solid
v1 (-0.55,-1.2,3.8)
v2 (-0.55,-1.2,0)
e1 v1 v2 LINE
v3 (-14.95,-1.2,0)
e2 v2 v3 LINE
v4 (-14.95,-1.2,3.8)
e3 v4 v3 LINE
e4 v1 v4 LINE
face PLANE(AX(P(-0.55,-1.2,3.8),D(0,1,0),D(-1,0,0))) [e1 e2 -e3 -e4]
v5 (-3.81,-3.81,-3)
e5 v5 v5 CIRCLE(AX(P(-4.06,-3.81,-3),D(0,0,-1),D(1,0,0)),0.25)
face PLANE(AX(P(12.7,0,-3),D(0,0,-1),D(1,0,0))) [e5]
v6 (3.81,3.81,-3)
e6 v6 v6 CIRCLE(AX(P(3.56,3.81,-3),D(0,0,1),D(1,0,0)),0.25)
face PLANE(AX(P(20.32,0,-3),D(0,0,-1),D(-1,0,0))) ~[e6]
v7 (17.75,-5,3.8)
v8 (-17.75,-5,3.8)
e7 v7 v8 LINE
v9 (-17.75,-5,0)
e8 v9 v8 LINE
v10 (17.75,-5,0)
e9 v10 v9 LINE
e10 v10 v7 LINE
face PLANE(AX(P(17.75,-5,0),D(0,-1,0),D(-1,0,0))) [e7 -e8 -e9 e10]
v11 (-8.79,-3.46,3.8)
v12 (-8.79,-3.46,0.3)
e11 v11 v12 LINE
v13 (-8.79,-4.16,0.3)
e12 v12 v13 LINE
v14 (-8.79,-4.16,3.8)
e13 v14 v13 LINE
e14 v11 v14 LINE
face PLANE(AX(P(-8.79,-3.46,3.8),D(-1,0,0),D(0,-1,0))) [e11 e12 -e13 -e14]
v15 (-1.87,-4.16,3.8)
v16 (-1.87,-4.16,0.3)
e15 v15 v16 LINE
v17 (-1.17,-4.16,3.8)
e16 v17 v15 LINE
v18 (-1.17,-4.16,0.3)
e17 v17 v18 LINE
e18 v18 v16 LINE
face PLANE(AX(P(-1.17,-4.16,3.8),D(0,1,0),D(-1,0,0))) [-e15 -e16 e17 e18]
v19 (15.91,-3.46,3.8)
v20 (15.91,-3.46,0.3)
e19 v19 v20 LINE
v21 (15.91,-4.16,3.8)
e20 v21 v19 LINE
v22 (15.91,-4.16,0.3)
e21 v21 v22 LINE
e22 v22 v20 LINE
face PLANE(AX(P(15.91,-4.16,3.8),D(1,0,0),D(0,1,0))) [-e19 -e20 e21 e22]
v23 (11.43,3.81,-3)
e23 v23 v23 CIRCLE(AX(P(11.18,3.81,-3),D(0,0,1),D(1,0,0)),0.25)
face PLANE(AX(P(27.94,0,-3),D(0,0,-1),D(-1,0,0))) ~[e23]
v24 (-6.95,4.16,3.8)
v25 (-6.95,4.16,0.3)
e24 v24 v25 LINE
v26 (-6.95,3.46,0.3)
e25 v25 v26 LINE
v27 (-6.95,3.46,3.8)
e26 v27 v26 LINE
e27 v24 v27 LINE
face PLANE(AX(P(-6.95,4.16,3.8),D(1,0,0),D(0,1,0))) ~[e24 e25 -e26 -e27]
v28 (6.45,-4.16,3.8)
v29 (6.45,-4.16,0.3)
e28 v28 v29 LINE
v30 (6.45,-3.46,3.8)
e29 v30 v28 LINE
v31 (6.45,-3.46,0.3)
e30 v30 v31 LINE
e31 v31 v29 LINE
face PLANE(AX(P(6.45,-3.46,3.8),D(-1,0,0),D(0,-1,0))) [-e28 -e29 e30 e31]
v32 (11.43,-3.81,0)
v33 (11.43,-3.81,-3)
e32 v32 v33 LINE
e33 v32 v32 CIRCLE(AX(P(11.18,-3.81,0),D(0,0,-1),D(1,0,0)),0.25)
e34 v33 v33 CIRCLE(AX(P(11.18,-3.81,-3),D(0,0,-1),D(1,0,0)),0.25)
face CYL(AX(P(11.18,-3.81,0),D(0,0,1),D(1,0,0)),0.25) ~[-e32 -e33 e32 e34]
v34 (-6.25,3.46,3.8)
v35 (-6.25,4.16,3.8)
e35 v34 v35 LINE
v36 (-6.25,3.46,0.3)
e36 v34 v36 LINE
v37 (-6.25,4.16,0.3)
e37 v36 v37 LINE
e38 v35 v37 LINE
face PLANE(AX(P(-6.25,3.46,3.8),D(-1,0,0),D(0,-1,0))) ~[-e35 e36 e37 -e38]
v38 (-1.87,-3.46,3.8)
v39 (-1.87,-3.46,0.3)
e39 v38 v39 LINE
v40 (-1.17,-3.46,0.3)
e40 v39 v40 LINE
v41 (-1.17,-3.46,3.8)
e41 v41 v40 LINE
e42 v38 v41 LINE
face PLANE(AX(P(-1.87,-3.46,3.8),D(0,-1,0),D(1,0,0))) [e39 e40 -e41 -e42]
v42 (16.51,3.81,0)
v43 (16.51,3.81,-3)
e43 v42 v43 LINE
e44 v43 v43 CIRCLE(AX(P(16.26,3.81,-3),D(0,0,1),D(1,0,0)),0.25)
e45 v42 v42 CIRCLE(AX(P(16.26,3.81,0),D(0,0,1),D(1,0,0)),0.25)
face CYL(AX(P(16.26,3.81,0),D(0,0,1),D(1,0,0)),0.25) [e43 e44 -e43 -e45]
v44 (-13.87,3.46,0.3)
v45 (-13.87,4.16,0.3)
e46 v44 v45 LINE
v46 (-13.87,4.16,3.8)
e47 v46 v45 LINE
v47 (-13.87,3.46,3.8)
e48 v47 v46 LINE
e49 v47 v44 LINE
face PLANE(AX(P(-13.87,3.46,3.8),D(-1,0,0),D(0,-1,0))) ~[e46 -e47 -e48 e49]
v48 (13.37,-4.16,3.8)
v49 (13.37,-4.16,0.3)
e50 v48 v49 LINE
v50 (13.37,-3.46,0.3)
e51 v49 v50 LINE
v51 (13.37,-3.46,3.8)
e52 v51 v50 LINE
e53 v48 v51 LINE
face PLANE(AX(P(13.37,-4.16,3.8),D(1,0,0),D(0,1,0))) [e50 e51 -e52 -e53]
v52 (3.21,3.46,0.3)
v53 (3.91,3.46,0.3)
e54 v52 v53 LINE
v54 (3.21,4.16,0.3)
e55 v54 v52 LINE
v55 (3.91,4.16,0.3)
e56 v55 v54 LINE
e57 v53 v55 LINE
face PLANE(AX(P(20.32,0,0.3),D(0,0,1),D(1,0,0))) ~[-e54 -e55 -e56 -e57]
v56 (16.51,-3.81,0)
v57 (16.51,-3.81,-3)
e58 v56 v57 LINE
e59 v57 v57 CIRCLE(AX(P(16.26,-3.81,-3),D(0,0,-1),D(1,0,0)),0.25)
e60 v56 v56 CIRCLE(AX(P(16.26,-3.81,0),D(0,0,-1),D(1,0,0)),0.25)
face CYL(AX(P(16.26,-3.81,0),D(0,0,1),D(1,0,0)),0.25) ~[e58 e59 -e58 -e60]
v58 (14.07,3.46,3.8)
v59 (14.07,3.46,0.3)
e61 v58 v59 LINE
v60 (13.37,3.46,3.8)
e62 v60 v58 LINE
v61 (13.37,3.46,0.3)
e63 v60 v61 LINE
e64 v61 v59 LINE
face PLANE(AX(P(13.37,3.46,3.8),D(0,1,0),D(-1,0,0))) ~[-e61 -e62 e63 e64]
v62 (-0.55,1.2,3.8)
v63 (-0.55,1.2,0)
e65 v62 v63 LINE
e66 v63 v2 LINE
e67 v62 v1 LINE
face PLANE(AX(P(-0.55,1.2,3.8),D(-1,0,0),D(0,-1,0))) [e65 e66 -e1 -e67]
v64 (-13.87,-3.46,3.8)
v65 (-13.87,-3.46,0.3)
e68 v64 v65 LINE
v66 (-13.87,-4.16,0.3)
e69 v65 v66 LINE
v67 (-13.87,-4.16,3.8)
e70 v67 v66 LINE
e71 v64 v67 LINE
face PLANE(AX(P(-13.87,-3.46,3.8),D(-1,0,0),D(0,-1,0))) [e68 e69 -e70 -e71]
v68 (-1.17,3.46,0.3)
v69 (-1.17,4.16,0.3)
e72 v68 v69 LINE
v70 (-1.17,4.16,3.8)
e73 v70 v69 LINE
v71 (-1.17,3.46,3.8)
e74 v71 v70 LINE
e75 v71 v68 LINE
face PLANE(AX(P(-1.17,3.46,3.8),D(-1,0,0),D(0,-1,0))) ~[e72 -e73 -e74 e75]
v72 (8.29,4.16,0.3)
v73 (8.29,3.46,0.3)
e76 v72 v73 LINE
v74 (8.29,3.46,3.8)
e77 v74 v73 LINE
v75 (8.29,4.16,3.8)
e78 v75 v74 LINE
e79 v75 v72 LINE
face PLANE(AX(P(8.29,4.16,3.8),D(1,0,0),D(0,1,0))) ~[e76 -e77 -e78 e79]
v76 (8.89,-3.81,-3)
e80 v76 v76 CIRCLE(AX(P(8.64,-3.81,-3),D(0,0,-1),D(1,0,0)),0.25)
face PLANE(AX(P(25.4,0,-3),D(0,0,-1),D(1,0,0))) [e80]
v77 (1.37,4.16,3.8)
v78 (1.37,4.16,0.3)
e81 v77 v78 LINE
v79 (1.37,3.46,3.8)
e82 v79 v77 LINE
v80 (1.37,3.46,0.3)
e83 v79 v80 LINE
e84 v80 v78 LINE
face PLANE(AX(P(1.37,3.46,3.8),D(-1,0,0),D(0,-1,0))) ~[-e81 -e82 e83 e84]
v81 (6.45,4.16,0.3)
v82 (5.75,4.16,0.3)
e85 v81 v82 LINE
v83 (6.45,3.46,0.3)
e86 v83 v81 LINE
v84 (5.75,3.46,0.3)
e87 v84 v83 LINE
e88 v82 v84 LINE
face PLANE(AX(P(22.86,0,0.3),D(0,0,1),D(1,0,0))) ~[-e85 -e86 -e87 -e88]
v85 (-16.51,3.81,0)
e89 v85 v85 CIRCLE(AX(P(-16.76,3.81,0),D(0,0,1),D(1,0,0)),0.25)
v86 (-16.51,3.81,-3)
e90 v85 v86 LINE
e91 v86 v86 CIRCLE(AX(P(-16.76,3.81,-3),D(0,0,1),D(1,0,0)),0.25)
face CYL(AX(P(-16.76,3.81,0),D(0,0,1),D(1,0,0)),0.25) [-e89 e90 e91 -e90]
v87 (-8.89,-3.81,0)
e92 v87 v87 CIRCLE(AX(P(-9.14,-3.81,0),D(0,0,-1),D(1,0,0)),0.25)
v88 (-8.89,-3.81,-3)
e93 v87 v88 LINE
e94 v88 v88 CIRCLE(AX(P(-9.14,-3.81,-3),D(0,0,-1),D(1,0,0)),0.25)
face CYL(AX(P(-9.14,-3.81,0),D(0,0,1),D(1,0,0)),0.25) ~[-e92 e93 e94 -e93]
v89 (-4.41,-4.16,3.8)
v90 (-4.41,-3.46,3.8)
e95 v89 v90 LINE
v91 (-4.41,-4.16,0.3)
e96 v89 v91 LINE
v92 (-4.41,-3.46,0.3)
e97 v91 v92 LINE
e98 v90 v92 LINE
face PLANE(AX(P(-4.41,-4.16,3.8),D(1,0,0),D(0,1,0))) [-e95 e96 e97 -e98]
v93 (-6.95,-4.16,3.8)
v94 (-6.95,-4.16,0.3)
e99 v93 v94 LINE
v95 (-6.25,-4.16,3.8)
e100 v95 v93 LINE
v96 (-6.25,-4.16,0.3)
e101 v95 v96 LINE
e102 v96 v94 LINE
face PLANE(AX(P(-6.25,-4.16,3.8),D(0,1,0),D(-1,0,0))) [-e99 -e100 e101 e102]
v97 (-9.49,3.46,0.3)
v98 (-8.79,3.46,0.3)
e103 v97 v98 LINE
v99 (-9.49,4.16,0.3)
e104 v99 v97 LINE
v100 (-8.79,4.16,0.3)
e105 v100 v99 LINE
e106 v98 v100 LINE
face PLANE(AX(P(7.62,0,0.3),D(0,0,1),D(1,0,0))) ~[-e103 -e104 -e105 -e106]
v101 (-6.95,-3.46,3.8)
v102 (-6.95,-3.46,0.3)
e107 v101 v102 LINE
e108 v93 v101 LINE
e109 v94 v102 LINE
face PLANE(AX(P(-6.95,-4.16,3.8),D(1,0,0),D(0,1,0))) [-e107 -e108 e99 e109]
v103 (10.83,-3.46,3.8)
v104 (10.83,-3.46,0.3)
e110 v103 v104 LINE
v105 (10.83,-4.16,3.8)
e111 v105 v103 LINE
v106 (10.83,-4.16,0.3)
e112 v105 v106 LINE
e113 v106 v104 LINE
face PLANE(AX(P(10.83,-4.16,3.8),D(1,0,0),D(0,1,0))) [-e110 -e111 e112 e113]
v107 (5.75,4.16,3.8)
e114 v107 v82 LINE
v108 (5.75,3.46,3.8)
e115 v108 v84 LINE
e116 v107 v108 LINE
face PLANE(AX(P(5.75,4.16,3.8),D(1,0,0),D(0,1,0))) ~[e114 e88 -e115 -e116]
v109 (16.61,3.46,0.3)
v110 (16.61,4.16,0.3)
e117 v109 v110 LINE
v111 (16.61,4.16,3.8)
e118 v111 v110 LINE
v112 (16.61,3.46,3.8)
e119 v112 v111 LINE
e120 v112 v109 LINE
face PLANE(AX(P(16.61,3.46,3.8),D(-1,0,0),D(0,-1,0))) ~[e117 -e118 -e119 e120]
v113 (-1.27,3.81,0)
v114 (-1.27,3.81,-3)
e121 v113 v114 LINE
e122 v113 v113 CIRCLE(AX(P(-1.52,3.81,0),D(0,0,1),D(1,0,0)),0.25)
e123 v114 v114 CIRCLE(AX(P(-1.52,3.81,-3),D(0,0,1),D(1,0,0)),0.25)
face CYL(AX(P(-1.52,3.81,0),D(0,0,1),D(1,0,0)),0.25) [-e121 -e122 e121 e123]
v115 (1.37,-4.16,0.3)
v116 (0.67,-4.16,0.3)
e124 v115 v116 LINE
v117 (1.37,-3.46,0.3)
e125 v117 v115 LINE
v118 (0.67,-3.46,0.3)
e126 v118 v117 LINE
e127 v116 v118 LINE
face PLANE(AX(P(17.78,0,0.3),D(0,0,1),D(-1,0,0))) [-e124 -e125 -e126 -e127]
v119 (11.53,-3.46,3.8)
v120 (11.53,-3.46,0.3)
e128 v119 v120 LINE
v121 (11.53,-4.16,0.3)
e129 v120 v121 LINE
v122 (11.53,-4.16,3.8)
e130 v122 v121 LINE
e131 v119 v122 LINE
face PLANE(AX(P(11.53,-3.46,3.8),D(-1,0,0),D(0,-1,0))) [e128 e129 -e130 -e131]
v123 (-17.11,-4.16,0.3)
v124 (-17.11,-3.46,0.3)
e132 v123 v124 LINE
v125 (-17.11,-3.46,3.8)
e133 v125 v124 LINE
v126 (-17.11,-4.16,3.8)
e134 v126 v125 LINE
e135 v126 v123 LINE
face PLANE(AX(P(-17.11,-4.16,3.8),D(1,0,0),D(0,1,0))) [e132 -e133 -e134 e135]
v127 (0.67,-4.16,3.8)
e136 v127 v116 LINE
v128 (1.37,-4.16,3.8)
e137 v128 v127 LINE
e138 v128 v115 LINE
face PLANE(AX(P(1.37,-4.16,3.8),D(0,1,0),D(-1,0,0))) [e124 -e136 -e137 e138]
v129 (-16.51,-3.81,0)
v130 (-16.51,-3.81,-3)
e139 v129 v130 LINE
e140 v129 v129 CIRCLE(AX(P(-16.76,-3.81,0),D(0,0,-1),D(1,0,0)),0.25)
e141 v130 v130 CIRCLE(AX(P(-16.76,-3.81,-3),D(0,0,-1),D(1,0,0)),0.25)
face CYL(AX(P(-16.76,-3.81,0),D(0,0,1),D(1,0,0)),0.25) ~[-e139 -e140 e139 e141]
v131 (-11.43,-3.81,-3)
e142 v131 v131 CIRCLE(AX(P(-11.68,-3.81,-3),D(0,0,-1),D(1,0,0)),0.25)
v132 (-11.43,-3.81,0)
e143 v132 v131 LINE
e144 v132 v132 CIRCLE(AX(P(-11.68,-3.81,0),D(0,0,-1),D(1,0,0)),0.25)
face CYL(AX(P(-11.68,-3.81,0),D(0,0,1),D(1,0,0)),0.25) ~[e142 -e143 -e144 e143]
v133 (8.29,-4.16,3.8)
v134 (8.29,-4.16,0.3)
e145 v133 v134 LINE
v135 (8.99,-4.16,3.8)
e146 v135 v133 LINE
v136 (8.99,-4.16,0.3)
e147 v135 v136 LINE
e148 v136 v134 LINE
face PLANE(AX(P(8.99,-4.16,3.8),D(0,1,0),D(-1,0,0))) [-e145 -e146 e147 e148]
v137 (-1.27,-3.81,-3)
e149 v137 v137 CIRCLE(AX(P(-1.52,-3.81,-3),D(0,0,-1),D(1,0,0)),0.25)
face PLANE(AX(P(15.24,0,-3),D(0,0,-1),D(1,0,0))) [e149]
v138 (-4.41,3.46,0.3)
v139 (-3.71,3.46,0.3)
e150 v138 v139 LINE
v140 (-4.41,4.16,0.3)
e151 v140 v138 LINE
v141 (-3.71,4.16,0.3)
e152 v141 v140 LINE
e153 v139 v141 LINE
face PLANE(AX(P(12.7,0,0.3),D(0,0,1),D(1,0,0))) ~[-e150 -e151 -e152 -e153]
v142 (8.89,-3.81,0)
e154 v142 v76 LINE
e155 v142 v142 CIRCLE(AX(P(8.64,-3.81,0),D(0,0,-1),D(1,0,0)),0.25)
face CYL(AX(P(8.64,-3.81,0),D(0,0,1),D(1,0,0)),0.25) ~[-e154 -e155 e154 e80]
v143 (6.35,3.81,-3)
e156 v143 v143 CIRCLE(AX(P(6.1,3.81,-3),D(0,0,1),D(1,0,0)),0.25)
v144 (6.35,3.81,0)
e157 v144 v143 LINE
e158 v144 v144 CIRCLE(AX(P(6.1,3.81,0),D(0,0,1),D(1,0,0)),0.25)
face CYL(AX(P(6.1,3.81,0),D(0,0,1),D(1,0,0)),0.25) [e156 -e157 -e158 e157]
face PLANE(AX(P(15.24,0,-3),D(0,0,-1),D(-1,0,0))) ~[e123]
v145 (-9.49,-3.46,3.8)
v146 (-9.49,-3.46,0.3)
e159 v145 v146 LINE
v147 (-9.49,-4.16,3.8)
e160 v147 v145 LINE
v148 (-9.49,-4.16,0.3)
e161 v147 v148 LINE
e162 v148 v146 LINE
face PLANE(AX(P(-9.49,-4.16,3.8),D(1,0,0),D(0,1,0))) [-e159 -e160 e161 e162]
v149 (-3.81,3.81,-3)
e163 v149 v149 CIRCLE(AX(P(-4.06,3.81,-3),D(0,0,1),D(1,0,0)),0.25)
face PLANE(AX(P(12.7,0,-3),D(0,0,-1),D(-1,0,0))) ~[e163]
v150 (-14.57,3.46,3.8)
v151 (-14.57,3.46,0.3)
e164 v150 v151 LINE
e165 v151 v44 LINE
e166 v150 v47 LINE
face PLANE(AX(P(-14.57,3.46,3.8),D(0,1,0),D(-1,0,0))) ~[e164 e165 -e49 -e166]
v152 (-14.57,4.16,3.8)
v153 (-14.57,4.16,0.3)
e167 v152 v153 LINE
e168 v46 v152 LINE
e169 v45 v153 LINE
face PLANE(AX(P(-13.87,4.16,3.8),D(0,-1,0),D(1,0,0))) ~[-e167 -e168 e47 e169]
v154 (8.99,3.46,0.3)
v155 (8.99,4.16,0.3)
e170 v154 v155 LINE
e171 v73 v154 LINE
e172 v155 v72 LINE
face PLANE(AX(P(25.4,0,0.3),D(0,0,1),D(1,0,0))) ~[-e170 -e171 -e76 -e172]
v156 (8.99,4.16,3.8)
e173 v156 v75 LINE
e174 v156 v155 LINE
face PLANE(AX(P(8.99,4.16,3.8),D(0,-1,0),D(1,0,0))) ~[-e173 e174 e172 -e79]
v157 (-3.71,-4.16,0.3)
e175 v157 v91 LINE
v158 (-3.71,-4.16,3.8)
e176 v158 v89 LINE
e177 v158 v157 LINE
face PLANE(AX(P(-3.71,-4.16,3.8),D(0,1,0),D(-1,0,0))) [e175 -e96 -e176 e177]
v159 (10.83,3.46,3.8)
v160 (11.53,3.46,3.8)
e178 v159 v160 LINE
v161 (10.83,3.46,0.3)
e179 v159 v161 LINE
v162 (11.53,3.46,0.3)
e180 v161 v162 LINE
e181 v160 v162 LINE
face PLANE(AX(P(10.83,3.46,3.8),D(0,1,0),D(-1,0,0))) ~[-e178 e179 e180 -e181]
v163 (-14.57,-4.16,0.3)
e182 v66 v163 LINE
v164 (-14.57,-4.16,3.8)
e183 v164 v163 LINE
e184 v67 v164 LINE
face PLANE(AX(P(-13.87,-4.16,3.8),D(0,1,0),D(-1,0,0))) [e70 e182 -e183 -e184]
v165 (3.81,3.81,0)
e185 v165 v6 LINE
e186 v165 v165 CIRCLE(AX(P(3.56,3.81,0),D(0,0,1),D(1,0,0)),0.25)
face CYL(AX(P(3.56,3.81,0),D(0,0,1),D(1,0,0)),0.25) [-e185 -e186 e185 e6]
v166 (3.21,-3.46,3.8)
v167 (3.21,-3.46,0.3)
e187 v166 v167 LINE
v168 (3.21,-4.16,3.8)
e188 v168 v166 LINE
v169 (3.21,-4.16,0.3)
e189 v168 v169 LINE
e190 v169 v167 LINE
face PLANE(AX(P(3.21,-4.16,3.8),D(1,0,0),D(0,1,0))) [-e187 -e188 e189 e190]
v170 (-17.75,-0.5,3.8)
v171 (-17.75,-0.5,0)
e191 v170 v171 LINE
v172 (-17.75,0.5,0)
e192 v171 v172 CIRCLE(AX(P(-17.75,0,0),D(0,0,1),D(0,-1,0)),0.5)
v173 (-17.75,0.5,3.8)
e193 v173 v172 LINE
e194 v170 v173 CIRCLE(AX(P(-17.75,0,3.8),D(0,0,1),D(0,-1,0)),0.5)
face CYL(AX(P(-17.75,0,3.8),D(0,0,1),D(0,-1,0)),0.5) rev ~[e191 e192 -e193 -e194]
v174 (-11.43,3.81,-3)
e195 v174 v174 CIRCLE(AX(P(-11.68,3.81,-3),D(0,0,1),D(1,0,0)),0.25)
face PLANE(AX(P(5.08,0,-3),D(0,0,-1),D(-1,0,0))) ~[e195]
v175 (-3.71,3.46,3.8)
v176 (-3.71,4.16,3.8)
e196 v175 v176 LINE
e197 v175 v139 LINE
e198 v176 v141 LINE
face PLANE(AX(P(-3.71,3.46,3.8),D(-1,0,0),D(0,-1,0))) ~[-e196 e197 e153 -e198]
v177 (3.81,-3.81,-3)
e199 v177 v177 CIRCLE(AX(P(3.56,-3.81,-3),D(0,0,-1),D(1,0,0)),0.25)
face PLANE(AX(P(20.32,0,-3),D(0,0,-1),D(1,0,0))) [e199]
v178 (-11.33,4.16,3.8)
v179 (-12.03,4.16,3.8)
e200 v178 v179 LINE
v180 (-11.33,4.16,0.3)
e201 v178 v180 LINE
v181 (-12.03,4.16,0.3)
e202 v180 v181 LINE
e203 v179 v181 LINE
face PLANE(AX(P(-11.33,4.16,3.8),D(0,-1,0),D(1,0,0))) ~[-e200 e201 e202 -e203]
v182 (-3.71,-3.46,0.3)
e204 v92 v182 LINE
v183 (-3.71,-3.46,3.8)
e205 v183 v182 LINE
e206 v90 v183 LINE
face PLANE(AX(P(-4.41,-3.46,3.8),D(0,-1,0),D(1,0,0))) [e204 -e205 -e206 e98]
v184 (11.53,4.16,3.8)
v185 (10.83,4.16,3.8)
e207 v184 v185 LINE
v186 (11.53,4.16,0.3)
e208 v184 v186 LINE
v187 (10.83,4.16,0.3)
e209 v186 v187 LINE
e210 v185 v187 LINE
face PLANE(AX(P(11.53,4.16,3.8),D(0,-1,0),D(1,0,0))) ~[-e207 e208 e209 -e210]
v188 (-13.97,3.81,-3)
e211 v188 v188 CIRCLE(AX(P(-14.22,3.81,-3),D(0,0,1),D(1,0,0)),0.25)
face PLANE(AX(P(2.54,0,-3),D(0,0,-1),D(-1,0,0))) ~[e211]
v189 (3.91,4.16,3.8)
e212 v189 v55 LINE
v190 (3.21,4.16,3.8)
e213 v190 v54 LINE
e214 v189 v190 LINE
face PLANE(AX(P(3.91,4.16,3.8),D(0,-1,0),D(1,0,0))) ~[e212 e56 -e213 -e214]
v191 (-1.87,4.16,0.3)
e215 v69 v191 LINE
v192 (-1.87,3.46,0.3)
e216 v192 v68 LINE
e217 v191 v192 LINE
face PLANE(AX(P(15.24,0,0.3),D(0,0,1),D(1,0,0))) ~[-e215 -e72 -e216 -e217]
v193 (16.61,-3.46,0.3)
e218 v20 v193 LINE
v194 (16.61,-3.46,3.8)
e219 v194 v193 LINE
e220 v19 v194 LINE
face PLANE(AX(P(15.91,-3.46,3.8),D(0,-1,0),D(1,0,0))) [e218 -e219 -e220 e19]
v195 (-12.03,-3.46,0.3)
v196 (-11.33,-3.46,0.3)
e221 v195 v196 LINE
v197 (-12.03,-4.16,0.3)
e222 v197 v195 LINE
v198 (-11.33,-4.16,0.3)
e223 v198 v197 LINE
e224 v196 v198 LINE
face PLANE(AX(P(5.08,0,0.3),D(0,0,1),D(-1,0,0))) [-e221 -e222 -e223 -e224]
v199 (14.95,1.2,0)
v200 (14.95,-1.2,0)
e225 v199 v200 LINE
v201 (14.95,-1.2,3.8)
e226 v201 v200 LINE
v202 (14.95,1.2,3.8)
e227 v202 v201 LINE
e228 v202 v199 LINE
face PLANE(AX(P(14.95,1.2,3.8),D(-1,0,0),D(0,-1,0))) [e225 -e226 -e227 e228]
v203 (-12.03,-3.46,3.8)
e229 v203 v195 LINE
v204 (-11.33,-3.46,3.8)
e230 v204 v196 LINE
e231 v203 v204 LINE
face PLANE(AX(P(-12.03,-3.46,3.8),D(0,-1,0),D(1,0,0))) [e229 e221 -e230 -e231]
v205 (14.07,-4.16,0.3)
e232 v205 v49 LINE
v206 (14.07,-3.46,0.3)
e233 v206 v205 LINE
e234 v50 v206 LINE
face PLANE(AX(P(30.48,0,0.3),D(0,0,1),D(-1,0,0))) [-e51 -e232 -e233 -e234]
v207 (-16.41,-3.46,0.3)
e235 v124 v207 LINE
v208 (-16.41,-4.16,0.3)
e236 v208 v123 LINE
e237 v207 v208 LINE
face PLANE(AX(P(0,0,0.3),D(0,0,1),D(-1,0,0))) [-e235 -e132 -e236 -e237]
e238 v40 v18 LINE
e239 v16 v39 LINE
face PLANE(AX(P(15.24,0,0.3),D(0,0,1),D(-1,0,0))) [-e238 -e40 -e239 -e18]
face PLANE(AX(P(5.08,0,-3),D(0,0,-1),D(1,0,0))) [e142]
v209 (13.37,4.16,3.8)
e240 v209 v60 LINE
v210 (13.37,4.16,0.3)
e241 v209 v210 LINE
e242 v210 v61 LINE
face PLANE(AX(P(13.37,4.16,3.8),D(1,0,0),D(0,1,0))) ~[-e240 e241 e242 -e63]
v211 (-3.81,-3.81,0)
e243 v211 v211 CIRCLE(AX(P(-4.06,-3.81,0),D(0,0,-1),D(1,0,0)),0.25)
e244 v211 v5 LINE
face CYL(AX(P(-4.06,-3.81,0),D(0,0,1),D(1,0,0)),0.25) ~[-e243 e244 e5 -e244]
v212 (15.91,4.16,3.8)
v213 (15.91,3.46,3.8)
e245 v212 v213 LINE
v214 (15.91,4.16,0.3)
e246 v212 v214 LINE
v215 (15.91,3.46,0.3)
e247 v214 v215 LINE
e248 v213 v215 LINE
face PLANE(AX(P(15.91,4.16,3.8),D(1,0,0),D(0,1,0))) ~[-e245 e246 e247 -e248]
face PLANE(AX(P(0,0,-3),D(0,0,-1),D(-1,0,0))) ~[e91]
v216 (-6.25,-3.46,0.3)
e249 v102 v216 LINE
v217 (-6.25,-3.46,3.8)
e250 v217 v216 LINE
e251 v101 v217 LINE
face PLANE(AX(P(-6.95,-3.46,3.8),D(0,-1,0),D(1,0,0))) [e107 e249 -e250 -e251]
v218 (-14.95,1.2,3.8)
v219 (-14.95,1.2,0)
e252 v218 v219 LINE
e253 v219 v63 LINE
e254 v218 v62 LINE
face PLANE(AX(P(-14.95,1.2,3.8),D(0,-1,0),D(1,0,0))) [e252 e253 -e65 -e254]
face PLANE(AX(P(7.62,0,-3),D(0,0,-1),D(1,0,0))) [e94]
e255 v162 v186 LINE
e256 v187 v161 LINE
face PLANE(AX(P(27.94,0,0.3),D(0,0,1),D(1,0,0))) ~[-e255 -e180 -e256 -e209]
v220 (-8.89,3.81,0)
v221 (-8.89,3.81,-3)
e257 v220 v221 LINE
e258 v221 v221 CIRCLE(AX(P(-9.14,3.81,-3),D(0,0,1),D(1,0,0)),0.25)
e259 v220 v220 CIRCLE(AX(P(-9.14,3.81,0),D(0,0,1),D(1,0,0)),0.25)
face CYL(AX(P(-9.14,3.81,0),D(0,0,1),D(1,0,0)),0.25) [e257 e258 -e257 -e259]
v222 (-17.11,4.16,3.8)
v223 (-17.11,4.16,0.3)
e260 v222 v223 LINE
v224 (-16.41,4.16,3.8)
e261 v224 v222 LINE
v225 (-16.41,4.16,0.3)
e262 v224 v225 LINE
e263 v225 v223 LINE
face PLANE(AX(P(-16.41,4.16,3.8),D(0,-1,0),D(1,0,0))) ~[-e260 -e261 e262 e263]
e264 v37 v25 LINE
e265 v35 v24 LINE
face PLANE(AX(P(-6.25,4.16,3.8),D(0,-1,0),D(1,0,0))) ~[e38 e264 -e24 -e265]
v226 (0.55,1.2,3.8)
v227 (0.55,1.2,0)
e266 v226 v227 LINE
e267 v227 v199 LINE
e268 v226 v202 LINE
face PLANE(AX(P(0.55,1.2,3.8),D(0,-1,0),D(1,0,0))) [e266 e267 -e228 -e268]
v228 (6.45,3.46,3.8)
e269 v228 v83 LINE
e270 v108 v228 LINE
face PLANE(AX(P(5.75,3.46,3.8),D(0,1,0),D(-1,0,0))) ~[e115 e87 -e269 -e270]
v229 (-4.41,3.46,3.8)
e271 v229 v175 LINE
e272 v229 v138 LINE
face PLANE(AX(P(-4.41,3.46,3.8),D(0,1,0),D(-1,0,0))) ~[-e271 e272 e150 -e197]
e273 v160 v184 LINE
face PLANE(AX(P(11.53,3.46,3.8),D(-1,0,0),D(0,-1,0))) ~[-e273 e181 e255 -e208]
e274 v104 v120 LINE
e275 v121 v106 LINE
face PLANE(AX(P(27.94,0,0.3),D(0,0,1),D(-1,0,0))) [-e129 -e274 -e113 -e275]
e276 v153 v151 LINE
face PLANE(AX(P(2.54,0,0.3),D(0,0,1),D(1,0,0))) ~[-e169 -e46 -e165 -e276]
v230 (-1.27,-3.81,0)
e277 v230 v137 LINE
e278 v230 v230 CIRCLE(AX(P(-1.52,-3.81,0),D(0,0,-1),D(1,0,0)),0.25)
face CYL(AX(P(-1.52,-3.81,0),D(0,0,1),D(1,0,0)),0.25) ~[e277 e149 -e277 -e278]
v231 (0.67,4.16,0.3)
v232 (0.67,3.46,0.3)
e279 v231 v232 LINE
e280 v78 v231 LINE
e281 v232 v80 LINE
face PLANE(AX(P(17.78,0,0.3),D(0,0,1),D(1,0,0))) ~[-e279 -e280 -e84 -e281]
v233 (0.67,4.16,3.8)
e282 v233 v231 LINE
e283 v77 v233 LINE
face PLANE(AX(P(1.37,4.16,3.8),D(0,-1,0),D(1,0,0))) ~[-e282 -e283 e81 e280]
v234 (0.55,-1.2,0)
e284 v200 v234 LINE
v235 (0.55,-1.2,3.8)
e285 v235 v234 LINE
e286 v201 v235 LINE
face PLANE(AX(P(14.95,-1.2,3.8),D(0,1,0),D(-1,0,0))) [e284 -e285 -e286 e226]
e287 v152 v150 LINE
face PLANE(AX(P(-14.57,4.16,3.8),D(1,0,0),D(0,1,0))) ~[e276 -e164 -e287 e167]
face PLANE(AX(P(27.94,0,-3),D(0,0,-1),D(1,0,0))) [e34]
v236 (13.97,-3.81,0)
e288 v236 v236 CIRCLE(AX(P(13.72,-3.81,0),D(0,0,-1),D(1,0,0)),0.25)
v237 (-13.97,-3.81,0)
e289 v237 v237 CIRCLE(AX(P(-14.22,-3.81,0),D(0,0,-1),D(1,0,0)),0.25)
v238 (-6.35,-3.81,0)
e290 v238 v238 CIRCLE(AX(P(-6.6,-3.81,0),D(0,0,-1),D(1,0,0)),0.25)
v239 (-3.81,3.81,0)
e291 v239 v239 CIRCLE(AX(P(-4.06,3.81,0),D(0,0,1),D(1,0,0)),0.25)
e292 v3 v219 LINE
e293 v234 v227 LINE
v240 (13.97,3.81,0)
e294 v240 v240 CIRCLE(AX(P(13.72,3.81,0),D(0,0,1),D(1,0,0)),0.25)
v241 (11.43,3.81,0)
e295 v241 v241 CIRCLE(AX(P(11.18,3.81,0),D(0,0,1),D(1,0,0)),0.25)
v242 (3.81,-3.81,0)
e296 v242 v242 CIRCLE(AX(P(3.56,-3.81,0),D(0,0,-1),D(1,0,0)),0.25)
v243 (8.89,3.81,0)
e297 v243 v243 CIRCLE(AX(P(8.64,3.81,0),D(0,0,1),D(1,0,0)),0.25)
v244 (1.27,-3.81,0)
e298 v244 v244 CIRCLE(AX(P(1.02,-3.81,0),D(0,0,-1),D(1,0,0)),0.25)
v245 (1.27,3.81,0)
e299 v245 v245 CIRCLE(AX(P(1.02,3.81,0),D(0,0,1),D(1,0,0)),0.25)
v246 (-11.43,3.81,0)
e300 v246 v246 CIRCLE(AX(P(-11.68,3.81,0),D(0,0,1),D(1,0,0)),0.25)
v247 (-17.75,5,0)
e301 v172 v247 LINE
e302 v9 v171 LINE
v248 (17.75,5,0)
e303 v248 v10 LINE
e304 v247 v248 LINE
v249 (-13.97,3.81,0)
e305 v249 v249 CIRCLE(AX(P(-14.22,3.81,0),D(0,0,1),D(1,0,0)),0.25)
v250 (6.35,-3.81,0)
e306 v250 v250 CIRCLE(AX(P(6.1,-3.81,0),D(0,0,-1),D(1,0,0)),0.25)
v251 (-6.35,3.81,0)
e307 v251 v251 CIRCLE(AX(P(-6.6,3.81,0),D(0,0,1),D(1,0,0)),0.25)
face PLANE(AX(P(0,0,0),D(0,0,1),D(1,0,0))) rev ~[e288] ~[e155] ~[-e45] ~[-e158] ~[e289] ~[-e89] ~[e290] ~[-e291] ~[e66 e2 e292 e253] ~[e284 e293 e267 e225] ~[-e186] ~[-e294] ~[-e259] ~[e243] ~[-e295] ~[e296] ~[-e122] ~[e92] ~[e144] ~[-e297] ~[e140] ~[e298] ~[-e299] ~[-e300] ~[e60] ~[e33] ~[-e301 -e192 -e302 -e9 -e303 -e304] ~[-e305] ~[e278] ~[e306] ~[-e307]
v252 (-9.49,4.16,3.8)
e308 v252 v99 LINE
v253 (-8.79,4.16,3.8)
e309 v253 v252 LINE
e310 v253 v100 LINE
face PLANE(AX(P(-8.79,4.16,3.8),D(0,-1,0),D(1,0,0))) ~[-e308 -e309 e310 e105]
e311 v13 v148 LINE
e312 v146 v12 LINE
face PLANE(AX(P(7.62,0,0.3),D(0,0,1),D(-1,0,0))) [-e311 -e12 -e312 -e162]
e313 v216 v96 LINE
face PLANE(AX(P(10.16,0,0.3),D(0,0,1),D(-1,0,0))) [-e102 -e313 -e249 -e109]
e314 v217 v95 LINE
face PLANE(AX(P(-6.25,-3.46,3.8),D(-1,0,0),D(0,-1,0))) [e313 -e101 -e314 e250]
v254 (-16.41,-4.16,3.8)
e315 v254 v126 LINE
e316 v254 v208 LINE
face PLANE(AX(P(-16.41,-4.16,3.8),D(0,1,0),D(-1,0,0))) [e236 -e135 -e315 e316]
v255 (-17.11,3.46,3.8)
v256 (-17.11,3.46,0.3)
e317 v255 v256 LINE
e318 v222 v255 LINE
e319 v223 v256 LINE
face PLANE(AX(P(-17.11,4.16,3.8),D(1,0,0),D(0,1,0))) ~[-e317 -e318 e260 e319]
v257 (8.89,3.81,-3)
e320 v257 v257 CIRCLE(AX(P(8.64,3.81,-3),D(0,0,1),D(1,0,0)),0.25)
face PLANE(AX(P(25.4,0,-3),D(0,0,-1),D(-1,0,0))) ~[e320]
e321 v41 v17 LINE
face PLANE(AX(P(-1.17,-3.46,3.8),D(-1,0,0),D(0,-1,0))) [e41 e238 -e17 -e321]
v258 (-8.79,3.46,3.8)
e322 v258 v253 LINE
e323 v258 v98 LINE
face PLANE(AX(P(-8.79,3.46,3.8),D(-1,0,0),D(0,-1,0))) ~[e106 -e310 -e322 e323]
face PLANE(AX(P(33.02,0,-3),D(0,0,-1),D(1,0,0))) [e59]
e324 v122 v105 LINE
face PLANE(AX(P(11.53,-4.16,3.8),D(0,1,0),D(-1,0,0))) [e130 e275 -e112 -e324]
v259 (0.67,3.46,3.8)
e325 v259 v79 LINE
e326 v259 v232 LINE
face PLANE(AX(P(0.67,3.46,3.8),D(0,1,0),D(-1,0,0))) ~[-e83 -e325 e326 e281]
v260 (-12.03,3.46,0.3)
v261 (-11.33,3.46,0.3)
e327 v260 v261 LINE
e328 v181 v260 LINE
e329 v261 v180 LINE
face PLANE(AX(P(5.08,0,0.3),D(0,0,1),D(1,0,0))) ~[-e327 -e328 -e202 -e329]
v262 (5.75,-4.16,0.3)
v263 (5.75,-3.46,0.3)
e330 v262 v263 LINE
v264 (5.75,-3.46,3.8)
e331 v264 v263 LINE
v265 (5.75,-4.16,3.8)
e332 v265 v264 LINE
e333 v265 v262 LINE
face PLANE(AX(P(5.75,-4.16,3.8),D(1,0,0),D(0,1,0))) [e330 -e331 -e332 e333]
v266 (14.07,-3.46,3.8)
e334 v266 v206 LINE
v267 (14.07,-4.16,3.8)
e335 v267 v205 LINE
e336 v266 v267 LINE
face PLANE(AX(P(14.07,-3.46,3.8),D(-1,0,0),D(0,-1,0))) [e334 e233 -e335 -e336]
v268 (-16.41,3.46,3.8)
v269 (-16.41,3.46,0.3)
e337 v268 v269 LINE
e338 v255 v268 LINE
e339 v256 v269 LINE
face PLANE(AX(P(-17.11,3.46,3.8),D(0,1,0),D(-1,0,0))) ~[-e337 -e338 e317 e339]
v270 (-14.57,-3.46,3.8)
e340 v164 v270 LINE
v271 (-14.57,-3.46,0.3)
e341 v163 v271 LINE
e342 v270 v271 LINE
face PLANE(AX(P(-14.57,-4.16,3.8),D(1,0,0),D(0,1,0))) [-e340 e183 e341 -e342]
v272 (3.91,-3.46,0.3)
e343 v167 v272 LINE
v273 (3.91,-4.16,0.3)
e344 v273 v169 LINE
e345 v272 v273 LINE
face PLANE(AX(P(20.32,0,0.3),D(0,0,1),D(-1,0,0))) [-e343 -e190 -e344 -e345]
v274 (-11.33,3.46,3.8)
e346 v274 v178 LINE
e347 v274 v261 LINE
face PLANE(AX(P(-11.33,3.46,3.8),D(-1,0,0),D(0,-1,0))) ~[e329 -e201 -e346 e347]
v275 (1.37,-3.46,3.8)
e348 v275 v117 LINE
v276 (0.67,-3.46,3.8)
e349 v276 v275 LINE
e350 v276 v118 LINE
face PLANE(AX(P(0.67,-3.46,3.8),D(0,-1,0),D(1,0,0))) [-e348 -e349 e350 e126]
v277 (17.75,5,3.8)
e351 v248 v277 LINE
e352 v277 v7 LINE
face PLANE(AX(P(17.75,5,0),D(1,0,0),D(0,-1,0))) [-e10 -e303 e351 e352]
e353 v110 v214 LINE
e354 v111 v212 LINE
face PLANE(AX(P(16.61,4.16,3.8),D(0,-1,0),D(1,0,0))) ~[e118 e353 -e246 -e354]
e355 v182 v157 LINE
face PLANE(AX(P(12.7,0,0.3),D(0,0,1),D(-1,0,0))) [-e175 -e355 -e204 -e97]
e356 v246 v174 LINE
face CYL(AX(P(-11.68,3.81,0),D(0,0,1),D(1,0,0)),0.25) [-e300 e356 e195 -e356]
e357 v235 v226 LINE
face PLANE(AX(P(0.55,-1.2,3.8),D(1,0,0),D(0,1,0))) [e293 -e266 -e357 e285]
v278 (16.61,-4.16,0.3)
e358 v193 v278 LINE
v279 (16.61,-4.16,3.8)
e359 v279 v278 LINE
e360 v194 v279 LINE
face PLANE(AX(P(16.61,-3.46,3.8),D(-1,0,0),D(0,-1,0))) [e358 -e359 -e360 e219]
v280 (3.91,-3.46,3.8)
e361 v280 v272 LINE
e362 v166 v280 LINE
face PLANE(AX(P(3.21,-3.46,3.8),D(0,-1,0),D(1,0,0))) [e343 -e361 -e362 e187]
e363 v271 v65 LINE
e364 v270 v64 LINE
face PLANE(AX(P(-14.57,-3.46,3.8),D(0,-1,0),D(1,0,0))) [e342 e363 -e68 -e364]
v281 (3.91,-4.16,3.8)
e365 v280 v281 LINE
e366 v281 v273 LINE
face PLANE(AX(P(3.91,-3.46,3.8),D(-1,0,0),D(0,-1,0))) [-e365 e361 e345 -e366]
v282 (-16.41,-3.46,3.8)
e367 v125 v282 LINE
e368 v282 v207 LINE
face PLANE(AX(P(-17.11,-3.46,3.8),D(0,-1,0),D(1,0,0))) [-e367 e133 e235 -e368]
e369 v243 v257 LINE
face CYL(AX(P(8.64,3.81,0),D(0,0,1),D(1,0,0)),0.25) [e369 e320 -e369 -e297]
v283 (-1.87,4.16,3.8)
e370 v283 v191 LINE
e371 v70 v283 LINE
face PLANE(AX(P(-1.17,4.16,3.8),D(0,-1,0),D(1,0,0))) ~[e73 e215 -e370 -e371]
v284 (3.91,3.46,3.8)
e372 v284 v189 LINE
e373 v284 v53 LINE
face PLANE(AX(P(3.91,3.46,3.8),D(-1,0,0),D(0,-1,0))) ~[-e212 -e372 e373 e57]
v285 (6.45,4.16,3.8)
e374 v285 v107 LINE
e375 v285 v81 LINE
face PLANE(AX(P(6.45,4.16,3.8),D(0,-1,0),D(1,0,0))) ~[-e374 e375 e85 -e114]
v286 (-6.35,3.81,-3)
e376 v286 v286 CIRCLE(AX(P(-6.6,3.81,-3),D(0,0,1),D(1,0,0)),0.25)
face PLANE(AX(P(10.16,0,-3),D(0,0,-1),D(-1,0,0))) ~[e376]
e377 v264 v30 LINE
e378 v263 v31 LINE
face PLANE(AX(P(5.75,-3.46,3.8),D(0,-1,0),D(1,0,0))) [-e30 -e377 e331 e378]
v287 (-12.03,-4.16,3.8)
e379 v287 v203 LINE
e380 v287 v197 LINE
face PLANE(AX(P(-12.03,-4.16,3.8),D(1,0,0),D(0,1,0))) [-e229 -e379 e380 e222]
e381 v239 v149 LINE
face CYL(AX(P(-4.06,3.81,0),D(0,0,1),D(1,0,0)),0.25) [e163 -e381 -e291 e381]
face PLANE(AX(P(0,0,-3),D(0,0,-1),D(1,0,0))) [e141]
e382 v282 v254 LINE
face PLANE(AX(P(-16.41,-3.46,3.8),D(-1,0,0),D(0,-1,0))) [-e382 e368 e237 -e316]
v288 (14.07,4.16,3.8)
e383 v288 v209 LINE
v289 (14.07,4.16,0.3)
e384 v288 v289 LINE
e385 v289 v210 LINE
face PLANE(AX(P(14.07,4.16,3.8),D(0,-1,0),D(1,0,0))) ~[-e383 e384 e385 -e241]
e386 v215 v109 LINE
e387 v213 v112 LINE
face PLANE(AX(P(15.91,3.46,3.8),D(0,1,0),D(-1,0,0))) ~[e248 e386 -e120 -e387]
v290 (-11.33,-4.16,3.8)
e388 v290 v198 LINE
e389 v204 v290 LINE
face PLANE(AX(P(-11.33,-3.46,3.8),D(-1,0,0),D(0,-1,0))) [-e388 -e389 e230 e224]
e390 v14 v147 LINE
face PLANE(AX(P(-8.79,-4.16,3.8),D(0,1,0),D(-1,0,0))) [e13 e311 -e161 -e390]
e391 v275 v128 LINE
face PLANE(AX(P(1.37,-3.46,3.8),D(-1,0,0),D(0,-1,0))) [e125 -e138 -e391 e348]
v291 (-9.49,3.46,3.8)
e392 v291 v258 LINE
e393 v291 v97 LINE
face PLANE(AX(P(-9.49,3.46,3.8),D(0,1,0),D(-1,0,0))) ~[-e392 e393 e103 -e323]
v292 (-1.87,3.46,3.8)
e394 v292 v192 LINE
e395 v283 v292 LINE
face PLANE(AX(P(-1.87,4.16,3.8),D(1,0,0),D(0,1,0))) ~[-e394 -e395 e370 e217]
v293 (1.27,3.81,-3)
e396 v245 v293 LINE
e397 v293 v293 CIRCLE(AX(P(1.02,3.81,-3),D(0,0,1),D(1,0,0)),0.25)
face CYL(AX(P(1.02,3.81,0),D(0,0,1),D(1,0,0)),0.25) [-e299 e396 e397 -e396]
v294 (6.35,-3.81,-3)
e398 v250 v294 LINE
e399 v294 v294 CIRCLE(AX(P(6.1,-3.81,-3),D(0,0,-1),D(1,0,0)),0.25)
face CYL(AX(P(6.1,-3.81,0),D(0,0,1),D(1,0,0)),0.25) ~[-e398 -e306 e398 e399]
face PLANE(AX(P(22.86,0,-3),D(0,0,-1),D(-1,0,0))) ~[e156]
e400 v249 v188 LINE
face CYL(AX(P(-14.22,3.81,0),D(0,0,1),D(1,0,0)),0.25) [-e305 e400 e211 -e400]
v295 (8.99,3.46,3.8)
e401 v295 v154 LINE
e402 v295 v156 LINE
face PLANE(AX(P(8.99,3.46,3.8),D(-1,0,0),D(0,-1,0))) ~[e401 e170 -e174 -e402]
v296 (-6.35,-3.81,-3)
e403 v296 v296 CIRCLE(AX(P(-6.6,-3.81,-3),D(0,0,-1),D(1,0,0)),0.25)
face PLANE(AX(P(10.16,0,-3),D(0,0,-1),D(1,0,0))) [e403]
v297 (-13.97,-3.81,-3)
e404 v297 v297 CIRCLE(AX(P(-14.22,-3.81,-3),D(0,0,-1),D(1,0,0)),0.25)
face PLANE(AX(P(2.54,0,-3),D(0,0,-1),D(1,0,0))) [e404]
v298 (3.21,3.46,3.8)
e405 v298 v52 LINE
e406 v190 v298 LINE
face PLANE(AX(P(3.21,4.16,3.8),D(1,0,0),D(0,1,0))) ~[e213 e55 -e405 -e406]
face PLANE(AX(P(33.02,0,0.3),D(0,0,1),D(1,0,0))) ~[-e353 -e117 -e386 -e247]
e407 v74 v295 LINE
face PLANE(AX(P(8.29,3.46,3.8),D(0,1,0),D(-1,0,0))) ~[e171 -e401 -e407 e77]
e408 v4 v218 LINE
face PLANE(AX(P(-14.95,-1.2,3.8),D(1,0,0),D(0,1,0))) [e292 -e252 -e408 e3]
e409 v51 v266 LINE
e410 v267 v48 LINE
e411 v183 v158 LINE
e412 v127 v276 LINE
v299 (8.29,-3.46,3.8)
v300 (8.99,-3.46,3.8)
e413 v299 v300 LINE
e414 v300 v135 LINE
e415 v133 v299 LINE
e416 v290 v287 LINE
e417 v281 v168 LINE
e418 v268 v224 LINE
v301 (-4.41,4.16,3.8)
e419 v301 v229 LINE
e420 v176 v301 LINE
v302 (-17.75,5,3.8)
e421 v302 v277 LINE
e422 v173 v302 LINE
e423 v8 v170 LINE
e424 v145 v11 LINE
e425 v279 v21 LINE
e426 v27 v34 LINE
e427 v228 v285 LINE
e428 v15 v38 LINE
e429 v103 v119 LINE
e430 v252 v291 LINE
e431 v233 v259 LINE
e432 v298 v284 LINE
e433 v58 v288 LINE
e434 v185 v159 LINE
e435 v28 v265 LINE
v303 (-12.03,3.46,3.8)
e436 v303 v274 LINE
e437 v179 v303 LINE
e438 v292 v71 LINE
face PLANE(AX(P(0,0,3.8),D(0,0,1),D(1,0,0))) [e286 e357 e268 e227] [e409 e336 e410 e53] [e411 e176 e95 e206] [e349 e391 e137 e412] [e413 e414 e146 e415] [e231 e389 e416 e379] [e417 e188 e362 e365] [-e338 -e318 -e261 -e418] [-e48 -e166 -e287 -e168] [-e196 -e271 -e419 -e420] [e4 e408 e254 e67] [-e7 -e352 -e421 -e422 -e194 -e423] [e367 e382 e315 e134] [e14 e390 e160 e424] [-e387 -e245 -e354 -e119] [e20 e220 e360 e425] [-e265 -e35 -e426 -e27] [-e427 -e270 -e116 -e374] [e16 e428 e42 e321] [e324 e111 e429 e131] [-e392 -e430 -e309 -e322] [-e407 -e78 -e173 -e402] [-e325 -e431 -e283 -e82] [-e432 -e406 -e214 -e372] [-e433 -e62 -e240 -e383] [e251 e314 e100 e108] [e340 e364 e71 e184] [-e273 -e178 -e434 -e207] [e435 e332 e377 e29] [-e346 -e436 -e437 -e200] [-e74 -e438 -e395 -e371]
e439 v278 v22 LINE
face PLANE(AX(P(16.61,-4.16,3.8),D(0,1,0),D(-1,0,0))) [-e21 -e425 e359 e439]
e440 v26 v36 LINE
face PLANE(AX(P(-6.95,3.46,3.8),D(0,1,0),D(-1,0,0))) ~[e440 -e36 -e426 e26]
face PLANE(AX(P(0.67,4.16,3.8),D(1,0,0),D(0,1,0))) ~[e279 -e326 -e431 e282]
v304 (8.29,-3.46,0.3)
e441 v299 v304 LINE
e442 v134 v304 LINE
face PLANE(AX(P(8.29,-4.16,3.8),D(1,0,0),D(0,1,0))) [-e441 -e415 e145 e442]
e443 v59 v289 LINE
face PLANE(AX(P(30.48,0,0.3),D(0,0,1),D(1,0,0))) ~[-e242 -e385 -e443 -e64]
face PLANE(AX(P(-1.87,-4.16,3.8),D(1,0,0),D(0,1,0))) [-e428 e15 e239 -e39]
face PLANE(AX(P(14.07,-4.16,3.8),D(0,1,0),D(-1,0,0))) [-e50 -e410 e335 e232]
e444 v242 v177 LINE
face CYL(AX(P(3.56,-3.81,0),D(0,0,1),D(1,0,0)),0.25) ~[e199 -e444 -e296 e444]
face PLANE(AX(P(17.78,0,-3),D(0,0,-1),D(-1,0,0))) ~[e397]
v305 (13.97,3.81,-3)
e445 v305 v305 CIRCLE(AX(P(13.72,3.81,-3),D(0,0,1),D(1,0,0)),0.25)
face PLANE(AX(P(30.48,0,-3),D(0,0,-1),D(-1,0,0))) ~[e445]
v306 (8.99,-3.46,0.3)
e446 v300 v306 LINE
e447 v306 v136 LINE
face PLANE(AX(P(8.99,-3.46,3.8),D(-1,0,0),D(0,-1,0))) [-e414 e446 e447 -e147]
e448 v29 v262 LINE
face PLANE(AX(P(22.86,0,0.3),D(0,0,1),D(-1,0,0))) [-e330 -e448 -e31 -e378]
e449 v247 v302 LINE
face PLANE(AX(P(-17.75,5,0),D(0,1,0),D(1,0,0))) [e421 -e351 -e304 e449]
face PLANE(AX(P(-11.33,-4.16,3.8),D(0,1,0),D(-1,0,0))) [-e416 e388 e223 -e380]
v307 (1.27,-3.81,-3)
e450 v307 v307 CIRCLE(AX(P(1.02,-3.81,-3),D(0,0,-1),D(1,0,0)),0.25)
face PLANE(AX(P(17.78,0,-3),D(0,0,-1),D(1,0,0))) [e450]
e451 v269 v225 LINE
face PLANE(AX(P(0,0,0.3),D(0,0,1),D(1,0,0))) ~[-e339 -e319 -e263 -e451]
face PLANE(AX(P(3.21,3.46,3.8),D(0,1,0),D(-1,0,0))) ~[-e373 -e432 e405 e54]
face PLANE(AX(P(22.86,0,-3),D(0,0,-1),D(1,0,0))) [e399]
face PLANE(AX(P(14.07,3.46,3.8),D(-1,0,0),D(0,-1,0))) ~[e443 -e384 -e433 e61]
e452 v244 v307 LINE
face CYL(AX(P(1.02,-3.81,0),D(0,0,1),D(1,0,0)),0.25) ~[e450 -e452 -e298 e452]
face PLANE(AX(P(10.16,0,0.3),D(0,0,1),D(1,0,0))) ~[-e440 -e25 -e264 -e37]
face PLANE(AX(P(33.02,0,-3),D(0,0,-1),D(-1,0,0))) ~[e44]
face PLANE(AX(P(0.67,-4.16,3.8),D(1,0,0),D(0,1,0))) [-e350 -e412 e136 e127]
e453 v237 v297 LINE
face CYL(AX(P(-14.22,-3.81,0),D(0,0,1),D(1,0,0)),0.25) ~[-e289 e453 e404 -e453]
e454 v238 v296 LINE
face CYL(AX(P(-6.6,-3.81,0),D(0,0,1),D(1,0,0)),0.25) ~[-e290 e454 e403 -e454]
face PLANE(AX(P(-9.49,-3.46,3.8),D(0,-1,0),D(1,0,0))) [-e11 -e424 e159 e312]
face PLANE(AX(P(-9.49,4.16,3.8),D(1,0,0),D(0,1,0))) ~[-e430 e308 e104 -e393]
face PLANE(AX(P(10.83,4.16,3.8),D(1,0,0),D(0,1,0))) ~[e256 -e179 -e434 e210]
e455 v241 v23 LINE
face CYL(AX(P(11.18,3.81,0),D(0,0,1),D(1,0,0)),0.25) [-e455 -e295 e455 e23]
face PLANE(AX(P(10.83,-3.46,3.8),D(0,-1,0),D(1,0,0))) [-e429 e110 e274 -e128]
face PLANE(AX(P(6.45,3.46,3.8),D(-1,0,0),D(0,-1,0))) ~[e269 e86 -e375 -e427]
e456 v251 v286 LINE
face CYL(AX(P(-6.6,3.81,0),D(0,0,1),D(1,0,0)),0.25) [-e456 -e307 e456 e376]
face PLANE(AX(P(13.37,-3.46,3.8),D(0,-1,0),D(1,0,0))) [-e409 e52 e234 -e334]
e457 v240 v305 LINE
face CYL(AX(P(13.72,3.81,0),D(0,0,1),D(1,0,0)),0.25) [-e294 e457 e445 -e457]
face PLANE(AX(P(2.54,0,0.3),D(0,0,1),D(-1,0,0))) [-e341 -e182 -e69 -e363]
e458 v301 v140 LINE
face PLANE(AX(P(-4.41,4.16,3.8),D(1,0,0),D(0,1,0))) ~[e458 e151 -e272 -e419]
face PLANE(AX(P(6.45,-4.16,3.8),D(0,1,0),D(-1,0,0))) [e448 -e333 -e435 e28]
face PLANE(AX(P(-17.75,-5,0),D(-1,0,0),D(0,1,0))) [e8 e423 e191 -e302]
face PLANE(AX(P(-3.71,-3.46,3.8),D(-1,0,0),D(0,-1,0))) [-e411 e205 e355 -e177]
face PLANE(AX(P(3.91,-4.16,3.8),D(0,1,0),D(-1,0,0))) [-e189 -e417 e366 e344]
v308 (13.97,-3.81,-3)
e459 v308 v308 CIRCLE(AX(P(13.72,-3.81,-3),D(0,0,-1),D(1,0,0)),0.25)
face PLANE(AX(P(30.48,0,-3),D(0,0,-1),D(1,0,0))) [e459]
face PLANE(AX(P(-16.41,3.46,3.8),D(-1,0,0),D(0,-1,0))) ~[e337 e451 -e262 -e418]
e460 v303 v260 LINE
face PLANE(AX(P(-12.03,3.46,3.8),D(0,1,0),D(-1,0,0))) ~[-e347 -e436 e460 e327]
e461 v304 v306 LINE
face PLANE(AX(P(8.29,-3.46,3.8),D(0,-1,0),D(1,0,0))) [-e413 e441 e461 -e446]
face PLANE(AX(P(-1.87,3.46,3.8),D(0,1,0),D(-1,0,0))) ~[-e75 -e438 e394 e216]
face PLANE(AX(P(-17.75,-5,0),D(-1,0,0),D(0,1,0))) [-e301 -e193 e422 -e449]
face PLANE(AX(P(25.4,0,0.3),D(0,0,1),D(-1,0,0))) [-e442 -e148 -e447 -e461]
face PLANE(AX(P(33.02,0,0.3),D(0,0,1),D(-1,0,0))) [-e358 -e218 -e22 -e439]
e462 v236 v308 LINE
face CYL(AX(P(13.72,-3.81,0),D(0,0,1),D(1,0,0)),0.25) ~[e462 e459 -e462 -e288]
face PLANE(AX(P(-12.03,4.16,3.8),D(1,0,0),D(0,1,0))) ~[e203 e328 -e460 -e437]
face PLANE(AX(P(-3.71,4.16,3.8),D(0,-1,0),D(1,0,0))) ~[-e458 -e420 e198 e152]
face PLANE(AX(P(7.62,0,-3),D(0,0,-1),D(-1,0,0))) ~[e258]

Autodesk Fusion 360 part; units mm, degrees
sketch "スケッチ1" plane through (0, 0, 0) normal (0, 0, 1) x (1, 0, 0)
  line L0 (-17.75, 5) -> (17.75, 5)
  line L1 (17.75, 5) -> (17.75, -5)
  line L2 (17.75, -5) -> (-17.75, -5)
  line L3 (-17.75, -5) -> (-17.75, 5)
  dimension "d1" = 35.5
  dimension "d2" = 10
  dimension "d3" = 17.75
  dimension "d4" = 5
extrude "押し出し1" add sketch "スケッチ1" along normal blind 3.8
sketch "スケッチ2" plane through (0, 0, 3.8) normal (0, 0, 1) x (-1, 0, 0)
  line L0 (17.75, 5) -> (-17.75, 5)
  line L1 (-17.75, 5) -> (-17.75, -5)
  line L2 (-17.75, -5) -> (17.75, -5)
  line L3 (17.75, -5) -> (17.75, 5)
  line L4 (-0.55, -1.2) -> (-14.95, -1.2)
  line L5 (-14.95, -1.2) -> (-14.95, 1.2)
  line L6 (-14.95, 1.2) -> (-0.55, 1.2)
  line L7 (-0.55, 1.2) -> (-0.55, -1.2)
  line L8 (14.95, -1.2) -> (0.55, -1.2)
  line L9 (0.55, -1.2) -> (0.55, 1.2)
  line L10 (0.55, 1.2) -> (14.95, 1.2)
  line L11 (14.95, 1.2) -> (14.95, -1.2)
  line L12 (0, -1.75) -> (0, -22.5)
  line L13 (17.11, 3.46) -> (16.41, 3.46)
  line L14 (16.41, 3.46) -> (16.41, 4.16)
  line L15 (16.41, 4.16) -> (17.11, 4.16)
  line L16 (17.11, 4.16) -> (17.11, 3.46)
  arc A0 (17.75, 0.5) -> (17.75, -0.5) centre (17.75, 0) ccw
  line L17 (17.75, 0) -> (17.75, 0.5) construction
  line L18 (17.75, 0) -> (17.75, -0.5) construction
  dimension "d7" = 14.4
  dimension "d8" = 2.4
  dimension "d9" = 3.8
  dimension "d10" = 2.8
  dimension "d11" = 14.4
  dimension "d12" = 2.4
  dimension "d17" = 0.7
  dimension "d18" = 0.7
  dimension "d19" = 3.46
  dimension "d20" = 0.64
  dimension "d38" = 0.5
  dimension "d39" = 180
extrude "押し出し2" cut sketch "スケッチ2" against normal through all contours L3 A0 | L4 L5 L6 L7 | L8 L9 L10 L11
extrude "押し出し3" cut sketch "スケッチ2" against normal blind 3.5 contours L13 L14 L15 L16
pattern_linear "R パターン1" count 14 spacing 2.54 along (1, 0, 0) of "押し出し3"
mirror "ミラー1" about plane through (0, 0, 0) normal (0, 1, 0) of "R パターン1", "押し出し3"
sketch "スケッチ3" plane through (0, 0, 0) normal (0, 0, -1) x (1, 0, 0)
  line L0 (0.55, -1.2) -> (0.55, 1.2)
  line L1 (0.55, 1.2) -> (14.95, 1.2)
  line L2 (14.95, 1.2) -> (14.95, -1.2)
  line L3 (14.95, -1.2) -> (0.55, -1.2)
  line L4 (-14.95, -1.2) -> (-14.95, 1.2)
  line L5 (-14.95, 1.2) -> (-0.55, 1.2)
  line L6 (-0.55, 1.2) -> (-0.55, -1.2)
  line L7 (-0.55, -1.2) -> (-14.95, -1.2)
  line L8 (17.75, 5) -> (-17.75, 5)
  line L9 (-17.75, -0.5) -> (-17.75, -5)
  line L10 (-17.75, -5) -> (17.75, -5)
  line L11 (17.75, -5) -> (17.75, 5)
  line L12 (-16.41, 4.16) -> (-17.11, 4.16)
  line L13 (-16.41, 3.46) -> (-16.41, 4.16)
  line L14 (-17.11, 3.46) -> (-16.41, 3.46)
  line L15 (-17.11, 4.16) -> (-17.11, 3.46)
  circle A0 centre (-16.76, 3.81) radius 0.25
  arc A1 (-17.75, -0.5) -> (-17.75, 0.5) centre (-17.75, 0) ccw
  line L16 (-17.75, 5) -> (-17.75, 0.5)
  dimension "d28" = 0.5
  dimension "d29" = 0.35
  dimension "d30" = 0.35
extrude "押し出し4" add sketch "スケッチ3" along normal blind 3 contours A0
pattern_linear "R パターン2" count 14 spacing 2.54 along (1, 0, 0) of "押し出し4"
mirror "ミラー2" about plane through (0, 0, 0) normal (0, 1, 0) of "押し出し4", "R パターン2"
